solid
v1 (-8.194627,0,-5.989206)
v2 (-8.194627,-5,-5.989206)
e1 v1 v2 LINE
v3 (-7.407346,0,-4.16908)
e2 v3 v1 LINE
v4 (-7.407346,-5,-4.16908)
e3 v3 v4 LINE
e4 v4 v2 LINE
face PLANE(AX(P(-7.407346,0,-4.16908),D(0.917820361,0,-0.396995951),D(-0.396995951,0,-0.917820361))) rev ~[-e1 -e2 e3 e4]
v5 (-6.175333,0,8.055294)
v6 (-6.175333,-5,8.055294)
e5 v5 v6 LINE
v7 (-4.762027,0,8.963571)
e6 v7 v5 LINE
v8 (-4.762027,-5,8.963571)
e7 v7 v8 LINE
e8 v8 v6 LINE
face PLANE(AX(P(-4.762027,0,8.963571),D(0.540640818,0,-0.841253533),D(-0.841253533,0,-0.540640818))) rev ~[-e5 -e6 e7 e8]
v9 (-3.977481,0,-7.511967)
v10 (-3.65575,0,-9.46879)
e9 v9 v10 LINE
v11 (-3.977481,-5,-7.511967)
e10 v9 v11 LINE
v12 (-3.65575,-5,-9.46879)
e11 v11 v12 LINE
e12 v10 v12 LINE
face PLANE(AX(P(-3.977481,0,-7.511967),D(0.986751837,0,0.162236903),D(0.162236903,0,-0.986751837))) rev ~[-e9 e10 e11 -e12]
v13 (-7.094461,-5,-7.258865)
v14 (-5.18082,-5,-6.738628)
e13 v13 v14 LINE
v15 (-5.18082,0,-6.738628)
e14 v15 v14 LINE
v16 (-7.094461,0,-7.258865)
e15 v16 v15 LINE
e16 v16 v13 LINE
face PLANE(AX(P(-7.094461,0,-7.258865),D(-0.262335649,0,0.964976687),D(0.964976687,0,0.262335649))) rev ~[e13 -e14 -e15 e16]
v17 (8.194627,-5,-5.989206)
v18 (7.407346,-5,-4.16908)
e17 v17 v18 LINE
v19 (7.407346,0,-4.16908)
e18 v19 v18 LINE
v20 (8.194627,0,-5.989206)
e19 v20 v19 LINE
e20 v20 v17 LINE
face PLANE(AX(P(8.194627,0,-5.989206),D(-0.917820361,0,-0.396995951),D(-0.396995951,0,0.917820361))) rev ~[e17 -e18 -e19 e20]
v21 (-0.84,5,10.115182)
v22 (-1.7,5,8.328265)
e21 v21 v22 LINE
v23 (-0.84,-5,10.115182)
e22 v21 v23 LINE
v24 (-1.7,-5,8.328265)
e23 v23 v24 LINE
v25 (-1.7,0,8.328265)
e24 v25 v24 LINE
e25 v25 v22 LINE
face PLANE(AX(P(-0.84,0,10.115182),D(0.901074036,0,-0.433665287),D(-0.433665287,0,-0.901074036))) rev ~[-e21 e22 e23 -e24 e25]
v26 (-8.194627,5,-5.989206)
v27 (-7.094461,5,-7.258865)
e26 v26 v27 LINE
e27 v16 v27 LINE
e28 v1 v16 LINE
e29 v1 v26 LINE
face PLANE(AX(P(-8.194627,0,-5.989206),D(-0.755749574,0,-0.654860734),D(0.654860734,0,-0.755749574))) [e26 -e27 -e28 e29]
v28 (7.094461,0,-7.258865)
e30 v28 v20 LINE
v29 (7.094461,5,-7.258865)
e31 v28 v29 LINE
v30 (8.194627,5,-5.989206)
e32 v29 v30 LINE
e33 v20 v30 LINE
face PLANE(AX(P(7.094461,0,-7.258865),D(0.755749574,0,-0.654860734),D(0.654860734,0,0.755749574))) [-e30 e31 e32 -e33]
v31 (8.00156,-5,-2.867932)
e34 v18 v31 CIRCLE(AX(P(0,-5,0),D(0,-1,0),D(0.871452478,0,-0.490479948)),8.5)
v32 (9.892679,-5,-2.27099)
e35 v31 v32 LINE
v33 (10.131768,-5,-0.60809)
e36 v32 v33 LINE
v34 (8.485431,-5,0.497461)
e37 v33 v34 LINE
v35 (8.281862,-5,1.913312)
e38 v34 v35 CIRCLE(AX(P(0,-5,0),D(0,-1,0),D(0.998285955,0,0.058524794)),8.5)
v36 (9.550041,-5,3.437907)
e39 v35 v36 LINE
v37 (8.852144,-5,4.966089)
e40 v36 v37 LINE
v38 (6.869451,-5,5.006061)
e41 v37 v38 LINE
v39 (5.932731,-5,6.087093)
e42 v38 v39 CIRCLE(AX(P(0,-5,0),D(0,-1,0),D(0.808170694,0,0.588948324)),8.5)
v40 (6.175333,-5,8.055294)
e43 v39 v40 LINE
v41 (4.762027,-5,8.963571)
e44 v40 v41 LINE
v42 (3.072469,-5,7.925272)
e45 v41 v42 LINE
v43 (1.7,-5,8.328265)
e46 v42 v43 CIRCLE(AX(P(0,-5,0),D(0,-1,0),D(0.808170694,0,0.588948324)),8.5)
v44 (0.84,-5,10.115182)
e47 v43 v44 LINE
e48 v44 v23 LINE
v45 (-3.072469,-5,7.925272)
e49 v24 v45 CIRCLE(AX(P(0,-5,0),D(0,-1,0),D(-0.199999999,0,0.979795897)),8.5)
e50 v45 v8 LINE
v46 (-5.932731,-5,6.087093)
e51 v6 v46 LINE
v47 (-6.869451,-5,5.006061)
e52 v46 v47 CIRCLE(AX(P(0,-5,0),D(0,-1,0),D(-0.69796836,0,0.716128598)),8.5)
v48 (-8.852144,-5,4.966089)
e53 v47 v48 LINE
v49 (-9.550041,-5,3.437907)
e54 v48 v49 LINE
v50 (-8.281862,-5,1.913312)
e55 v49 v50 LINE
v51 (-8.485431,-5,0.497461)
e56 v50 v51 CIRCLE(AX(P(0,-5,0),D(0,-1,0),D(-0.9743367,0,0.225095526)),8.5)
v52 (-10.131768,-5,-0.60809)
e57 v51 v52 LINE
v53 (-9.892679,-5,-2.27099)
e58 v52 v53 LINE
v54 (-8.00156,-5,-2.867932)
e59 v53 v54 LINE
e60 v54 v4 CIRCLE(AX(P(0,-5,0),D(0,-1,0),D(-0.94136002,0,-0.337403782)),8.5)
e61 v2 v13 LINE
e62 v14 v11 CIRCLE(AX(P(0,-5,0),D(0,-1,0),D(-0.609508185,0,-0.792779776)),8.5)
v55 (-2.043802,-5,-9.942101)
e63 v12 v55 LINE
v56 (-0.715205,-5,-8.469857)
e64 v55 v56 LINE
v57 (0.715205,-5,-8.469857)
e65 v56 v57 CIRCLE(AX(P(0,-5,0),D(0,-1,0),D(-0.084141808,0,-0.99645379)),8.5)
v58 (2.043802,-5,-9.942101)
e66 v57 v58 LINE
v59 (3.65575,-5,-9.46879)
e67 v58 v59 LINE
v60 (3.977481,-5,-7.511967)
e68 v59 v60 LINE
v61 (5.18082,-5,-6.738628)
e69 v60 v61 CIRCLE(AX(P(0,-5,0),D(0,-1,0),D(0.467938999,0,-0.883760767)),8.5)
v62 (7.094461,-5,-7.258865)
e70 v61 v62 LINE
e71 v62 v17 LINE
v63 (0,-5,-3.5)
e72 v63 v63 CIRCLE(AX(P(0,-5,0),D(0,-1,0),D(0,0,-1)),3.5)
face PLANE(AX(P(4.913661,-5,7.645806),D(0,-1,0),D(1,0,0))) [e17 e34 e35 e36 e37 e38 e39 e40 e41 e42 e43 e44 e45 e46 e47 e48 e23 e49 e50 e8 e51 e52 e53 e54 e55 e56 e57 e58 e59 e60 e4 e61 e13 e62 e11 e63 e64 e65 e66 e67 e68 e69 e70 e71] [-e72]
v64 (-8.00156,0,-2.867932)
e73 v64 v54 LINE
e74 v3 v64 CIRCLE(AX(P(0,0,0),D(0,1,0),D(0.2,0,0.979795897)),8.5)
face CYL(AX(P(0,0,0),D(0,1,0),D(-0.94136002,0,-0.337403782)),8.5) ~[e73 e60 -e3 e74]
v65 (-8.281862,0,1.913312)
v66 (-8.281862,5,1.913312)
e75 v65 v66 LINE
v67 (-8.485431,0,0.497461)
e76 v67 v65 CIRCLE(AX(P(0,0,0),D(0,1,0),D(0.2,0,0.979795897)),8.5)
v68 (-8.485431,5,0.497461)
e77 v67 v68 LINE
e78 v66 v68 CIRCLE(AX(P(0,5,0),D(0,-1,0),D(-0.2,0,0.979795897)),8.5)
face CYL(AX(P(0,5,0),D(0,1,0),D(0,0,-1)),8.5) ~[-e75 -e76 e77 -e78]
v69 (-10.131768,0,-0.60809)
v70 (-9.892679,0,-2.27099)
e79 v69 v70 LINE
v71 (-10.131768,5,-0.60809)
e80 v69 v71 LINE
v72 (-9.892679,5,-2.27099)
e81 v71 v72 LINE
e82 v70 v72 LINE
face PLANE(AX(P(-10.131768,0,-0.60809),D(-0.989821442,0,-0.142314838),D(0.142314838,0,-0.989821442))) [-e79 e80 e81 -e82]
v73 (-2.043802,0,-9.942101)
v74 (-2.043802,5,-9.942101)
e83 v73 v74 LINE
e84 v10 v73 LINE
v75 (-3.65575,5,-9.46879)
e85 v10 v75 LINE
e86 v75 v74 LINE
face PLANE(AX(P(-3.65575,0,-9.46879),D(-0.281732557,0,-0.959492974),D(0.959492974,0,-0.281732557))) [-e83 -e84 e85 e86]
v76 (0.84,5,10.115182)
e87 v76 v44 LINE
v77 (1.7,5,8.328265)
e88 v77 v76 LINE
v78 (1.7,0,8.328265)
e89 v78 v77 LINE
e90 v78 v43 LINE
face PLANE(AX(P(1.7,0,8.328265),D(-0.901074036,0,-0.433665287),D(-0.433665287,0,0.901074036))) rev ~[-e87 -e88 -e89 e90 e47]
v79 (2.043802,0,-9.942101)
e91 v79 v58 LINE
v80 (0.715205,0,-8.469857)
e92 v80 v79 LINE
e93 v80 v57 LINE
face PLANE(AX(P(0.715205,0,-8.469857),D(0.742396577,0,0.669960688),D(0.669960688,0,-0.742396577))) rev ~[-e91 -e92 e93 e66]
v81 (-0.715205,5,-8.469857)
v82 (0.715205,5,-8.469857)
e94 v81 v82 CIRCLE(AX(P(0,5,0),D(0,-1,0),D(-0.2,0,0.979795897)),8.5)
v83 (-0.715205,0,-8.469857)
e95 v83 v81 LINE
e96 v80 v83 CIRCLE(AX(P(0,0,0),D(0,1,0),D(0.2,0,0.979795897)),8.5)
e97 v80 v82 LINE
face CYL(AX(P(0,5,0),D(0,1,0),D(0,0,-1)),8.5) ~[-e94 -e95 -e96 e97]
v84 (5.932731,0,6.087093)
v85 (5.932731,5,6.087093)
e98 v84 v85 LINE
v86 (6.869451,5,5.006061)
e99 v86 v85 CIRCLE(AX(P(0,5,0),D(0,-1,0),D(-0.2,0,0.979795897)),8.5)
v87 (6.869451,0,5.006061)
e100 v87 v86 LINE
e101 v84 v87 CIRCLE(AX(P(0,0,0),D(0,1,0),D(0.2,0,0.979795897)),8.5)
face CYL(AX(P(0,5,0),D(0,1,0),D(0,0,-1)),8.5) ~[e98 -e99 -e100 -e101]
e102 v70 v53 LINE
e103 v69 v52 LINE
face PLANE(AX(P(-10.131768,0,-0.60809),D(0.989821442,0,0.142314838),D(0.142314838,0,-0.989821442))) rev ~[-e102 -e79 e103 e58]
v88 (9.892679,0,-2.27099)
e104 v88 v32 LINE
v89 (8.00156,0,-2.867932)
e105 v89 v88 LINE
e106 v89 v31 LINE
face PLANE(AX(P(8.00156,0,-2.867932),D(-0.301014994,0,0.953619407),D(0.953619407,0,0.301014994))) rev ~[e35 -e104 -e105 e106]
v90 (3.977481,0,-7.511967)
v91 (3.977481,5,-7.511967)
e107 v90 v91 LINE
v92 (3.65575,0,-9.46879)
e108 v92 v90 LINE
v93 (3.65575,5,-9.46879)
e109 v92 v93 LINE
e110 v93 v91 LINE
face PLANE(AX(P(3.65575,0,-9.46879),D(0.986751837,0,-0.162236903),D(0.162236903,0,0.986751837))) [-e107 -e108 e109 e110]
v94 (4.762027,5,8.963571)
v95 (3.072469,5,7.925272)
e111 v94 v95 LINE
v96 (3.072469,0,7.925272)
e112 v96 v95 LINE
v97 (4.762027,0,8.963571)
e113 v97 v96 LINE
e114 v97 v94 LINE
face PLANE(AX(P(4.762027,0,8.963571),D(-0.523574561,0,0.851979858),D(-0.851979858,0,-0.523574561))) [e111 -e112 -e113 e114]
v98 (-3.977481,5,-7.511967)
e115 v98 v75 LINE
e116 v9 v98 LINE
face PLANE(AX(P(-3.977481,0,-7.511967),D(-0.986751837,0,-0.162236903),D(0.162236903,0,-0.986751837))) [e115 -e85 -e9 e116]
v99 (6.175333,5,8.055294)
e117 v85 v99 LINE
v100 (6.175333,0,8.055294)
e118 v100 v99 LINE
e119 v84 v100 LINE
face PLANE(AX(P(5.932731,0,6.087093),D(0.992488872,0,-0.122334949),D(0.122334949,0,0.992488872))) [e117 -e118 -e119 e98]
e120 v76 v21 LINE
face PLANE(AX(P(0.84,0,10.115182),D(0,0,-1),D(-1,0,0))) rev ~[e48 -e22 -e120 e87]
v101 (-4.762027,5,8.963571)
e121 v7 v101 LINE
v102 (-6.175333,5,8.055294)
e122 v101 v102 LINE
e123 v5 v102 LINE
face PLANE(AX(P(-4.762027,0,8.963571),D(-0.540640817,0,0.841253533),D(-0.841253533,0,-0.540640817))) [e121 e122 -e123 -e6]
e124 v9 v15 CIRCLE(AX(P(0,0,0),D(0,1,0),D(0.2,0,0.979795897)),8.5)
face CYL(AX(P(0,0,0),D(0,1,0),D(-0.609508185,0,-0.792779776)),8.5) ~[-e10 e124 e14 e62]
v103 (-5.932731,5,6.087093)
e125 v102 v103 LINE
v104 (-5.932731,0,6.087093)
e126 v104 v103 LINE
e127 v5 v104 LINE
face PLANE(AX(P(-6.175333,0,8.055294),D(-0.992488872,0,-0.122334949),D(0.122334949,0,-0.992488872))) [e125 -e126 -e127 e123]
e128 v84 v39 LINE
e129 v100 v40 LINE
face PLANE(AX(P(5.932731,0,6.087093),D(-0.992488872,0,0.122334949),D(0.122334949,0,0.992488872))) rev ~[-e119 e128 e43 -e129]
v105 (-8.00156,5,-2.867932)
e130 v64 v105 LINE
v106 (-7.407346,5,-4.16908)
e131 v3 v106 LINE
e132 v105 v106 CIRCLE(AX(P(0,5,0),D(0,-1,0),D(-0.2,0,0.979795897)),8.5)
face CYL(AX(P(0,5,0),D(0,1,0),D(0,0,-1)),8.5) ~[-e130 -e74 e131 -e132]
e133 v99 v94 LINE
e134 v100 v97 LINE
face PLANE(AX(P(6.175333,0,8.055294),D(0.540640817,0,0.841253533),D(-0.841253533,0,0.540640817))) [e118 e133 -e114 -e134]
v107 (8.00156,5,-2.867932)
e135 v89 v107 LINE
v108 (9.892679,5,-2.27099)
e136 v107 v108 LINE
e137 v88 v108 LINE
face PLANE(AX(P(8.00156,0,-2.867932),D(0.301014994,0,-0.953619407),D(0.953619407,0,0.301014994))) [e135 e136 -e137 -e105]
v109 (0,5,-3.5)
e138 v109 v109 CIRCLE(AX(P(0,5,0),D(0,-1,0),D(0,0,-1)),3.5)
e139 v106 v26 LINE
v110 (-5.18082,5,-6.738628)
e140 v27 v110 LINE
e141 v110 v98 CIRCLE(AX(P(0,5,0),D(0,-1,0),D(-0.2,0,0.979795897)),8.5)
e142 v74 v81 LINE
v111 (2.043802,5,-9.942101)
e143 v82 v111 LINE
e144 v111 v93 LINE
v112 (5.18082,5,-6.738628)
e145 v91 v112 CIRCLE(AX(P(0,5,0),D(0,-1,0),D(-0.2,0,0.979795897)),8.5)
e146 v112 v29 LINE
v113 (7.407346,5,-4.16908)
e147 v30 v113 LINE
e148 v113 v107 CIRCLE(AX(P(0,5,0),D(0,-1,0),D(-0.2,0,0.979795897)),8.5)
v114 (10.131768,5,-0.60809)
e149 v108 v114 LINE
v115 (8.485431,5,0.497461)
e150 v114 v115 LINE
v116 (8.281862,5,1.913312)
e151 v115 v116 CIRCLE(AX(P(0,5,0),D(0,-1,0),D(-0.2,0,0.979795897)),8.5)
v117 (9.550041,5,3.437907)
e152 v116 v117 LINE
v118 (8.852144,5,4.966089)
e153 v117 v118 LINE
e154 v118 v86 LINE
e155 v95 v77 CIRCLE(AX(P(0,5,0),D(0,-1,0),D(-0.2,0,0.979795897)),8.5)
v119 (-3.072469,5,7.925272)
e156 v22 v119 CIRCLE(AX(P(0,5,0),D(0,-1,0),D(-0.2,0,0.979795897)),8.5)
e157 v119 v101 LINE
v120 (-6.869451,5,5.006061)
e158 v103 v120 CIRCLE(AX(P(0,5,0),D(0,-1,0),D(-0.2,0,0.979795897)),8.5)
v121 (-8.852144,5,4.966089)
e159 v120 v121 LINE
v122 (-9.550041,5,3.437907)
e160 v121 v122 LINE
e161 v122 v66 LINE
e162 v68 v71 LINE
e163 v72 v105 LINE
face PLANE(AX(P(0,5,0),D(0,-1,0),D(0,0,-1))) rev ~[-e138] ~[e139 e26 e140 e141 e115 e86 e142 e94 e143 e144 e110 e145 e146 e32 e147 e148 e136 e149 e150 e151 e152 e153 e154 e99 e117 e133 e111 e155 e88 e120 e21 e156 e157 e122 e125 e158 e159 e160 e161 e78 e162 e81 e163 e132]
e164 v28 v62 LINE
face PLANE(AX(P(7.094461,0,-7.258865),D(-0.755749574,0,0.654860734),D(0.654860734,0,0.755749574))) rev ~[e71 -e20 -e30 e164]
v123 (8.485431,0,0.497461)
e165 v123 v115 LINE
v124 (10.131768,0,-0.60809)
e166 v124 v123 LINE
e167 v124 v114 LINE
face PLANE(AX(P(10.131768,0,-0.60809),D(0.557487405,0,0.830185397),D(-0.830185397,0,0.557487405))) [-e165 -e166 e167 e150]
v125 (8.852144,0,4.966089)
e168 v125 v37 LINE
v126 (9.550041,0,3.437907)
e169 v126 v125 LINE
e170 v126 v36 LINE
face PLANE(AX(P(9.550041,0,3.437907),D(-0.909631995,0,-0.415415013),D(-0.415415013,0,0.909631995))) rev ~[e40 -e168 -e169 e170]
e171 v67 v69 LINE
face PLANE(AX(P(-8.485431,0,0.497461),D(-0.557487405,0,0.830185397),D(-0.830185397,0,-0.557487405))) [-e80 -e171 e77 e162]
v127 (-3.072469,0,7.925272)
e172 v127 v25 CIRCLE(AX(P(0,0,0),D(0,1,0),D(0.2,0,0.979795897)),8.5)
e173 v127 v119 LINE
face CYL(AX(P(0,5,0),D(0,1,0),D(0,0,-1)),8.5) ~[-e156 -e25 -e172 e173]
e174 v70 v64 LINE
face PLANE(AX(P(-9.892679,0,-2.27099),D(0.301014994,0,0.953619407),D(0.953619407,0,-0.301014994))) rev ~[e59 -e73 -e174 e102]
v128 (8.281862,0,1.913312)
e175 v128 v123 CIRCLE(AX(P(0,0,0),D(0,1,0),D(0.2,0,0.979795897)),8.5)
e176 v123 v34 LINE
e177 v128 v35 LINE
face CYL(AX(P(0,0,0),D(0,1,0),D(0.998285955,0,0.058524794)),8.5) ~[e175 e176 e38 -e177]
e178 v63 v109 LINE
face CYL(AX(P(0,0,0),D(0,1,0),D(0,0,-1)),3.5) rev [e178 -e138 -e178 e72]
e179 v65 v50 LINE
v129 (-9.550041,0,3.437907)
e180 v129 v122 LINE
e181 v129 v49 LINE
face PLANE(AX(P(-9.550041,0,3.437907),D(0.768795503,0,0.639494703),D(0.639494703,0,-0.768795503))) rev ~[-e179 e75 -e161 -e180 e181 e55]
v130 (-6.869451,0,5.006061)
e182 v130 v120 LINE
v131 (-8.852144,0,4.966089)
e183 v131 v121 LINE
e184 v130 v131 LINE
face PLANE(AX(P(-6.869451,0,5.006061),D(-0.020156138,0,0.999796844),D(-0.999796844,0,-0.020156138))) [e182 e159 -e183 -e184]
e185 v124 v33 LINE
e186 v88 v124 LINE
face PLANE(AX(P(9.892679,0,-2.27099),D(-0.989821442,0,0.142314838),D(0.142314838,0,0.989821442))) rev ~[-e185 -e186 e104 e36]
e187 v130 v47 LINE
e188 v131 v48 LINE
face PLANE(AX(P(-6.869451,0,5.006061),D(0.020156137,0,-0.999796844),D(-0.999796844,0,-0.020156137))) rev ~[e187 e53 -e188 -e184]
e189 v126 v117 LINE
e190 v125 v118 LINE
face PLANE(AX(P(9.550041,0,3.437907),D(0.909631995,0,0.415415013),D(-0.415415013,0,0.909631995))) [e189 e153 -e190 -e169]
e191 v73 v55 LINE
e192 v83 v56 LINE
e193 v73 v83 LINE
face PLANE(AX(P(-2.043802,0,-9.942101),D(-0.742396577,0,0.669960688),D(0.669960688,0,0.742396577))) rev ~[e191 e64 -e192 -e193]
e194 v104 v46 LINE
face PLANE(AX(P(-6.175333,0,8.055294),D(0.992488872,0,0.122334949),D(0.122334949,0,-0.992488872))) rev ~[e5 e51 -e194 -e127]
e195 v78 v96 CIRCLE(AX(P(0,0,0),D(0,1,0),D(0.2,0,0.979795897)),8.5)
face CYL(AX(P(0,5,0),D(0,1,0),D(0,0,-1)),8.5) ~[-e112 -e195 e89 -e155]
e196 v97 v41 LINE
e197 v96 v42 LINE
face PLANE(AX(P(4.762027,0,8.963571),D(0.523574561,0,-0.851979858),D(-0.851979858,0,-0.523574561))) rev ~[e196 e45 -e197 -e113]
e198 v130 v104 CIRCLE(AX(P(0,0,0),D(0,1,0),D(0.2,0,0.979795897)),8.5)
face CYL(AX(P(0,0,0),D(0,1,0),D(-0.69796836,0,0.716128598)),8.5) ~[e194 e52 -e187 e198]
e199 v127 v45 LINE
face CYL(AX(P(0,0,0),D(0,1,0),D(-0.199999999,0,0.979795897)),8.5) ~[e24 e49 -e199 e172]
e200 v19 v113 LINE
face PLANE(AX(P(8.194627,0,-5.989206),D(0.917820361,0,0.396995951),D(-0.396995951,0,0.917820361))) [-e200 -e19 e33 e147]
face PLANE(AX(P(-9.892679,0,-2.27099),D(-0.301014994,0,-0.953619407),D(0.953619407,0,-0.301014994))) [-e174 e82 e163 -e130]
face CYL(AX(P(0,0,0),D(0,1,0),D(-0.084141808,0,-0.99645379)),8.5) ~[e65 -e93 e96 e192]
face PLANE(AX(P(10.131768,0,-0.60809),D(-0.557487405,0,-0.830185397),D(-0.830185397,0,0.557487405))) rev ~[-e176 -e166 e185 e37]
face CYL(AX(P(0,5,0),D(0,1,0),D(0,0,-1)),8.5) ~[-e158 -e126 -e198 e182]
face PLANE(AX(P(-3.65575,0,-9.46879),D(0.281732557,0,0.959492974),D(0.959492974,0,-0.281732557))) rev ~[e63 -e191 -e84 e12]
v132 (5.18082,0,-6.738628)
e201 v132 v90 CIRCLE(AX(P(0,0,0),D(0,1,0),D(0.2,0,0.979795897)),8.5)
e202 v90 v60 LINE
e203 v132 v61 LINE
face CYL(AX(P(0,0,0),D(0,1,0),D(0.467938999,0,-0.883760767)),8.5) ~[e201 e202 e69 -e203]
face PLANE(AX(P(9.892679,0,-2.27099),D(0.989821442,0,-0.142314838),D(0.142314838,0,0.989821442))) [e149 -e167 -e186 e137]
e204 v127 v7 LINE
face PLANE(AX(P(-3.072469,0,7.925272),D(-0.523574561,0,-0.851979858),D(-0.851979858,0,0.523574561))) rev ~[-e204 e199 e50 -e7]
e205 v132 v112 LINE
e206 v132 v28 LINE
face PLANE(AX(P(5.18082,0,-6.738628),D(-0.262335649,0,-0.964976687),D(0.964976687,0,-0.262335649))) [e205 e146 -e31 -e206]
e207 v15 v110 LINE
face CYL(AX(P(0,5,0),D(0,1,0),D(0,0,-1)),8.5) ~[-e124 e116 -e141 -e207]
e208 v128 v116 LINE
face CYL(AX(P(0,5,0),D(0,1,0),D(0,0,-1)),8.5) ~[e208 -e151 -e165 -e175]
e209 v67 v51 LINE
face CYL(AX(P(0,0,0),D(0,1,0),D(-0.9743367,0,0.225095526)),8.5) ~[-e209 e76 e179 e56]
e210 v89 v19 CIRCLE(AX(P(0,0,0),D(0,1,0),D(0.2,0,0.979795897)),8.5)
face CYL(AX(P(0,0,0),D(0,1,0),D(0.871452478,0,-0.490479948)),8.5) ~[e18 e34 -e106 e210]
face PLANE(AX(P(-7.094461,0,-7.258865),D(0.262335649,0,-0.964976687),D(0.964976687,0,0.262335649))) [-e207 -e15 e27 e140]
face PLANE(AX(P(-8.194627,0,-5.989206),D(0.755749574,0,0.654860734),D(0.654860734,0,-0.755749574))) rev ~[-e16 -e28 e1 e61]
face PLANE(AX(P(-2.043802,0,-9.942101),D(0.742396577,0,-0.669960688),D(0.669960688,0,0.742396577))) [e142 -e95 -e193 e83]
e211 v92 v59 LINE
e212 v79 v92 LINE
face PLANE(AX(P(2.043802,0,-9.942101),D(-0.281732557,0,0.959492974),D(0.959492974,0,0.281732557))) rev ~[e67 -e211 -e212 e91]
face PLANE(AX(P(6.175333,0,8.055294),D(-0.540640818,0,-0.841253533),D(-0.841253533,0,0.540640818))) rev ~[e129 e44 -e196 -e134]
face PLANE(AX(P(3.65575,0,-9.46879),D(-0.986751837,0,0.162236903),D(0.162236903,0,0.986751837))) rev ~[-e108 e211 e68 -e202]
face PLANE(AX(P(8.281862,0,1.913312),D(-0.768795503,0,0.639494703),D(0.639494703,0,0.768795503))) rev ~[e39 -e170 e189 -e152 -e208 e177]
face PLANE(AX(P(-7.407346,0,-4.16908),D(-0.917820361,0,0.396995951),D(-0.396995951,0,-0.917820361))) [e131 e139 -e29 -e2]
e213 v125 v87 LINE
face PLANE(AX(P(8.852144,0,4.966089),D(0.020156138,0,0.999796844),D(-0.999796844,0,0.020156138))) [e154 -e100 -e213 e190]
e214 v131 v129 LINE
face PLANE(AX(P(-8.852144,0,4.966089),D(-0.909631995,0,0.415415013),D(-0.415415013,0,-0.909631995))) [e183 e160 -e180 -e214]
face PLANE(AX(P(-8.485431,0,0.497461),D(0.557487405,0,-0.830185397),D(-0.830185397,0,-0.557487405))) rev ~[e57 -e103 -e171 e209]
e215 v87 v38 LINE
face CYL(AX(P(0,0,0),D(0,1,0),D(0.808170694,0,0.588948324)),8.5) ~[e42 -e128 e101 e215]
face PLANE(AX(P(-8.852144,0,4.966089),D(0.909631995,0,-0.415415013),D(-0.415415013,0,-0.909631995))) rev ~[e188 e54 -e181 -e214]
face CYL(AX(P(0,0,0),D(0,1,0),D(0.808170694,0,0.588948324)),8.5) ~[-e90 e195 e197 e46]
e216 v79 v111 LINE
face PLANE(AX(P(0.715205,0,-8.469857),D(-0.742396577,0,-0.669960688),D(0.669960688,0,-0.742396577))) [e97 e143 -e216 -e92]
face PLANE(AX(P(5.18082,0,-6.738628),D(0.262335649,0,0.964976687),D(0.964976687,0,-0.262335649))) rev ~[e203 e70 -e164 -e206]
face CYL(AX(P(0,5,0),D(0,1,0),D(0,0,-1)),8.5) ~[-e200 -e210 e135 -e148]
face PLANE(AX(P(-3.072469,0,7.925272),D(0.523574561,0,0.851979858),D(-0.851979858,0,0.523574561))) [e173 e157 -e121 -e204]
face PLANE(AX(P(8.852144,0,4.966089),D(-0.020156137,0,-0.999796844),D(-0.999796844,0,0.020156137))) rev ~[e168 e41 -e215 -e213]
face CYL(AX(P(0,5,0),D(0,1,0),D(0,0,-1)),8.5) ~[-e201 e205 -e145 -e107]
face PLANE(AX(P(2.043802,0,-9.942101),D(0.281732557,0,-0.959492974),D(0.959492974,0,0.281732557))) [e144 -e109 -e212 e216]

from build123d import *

# Parameters (mm, degrees)
SKETCH1_R            = 3.5
BOSS_EXTRUDE1_DEPTH  = 5
SKETCH12_R           = 8.5
SKETCH12_R_2         = 3.5
BOSS_EXTRUDE6_DEPTH  = 5
BOSS_EXTRUDE9_DEPTH  = 5
CIRPATTERN2_COUNT    = 11
CUT_EXTRUDE1_START   = -10
SKETCH14_R           = 3.5
CUT_EXTRUDE1_DEPTH   = 10
SKETCH17_R           = 3.5
BOSS_EXTRUDE10_DEPTH = 5
BOSS_EXTRUDE11_DEPTH = 5


with BuildPart() as part:
    # Sketch1 → Boss-Extrude1 (new body)
    with BuildSketch(Plane(origin=(0, 0, 0), x_dir=(1, 0, 0), z_dir=(0, 1, 0))):
        with Locations(Location((0, 0, 0), (0, 0, 270))):
            Circle(SKETCH1_R)
    extrude(amount=BOSS_EXTRUDE1_DEPTH)

    # Sketch14 → Cut-Extrude1 (cut)
    with BuildSketch(Plane(origin=(0, 5, 0), x_dir=(1, 0, 0), z_dir=(0, 1, 0)).offset(CUT_EXTRUDE1_START)):
        with Locations(Location((0, 0, 0), (0, 0, 90))):
            Circle(SKETCH14_R)
    extrude(amount=CUT_EXTRUDE1_DEPTH, mode=Mode.SUBTRACT)


with BuildPart() as body_2:
    # Sketch12 → Boss-Extrude6 (new body)
    with BuildSketch(Plane(origin=(0, 5, 0), x_dir=(-1, 0, 0), z_dir=(0, -1, 0))):
        with Locations(Location((0, 0, 0), (0, 0, 90))):
            Circle(SKETCH12_R)
        with Locations(Location((0, 0, 0), (0, 0, 90))):
            Circle(SKETCH12_R_2, mode=Mode.SUBTRACT)
    extrude(amount=BOSS_EXTRUDE6_DEPTH)



with BuildPart() as body_3:
    # Sketch13 → Boss-Extrude9 (new body)
    with BuildSketch(Plane.XZ):
        with BuildLine():
            Line((1.7, 8.328265125), (0.84, 10.115181659))
            Line((0.84, 10.115181659), (-0.84, 10.115181659))
            Line((-0.84, 10.115181659), (-1.7, 8.328265125))
            ThreePointArc((-1.7, 8.328265125), (0, 8.5), (1.7, 8.328265125))
        make_face()
    extrude(amount=-BOSS_EXTRUDE9_DEPTH)


with BuildPart() as cirpattern2_1:
    # CirPattern2: pattern copy
    add(body_3.part.rotate(Axis((0, 0, 0), (0, 1, 0)), 1 * 360 / CIRPATTERN2_COUNT))


with BuildPart() as cirpattern2_2:
    # CirPattern2: pattern copy
    add(body_3.part.rotate(Axis((0, 0, 0), (0, 1, 0)), 2 * 360 / CIRPATTERN2_COUNT))


with BuildPart() as cirpattern2_3:
    # CirPattern2: pattern copy
    add(body_3.part.rotate(Axis((0, 0, 0), (0, 1, 0)), 3 * 360 / CIRPATTERN2_COUNT))


with BuildPart() as cirpattern2_4:
    # CirPattern2: pattern copy
    add(body_3.part.rotate(Axis((0, 0, 0), (0, 1, 0)), 4 * 360 / CIRPATTERN2_COUNT))


with BuildPart() as cirpattern2_5:
    # CirPattern2: pattern copy
    add(body_3.part.rotate(Axis((0, 0, 0), (0, 1, 0)), 5 * 360 / CIRPATTERN2_COUNT))


with BuildPart() as cirpattern2_6:
    # CirPattern2: pattern copy
    add(body_3.part.rotate(Axis((0, 0, 0), (0, 1, 0)), 6 * 360 / CIRPATTERN2_COUNT))


with BuildPart() as cirpattern2_7:
    # CirPattern2: pattern copy
    add(body_3.part.rotate(Axis((0, 0, 0), (0, 1, 0)), 7 * 360 / CIRPATTERN2_COUNT))


with BuildPart() as cirpattern2_8:
    # CirPattern2: pattern copy
    add(body_3.part.rotate(Axis((0, 0, 0), (0, 1, 0)), 8 * 360 / CIRPATTERN2_COUNT))


with BuildPart() as cirpattern2_9:
    # CirPattern2: pattern copy
    add(body_3.part.rotate(Axis((0, 0, 0), (0, 1, 0)), 9 * 360 / CIRPATTERN2_COUNT))


with BuildPart() as cirpattern2_10:
    # CirPattern2: pattern copy
    add(body_3.part.rotate(Axis((0, 0, 0), (0, 1, 0)), 10 * 360 / CIRPATTERN2_COUNT))


with BuildPart() as body_2_1:
    add(body_2.part)

    add(body_3.part)  # Boss-Extrude10 merges body 3

    add(cirpattern2_2.part)  # Boss-Extrude10 merges CirPattern2_2

    add(cirpattern2_3.part)  # Boss-Extrude10 merges CirPattern2_3

    add(cirpattern2_4.part)  # Boss-Extrude10 merges CirPattern2_4

    add(cirpattern2_5.part)  # Boss-Extrude10 merges CirPattern2_5

    add(cirpattern2_6.part)  # Boss-Extrude10 merges CirPattern2_6

    add(cirpattern2_7.part)  # Boss-Extrude10 merges CirPattern2_7

    add(cirpattern2_8.part)  # Boss-Extrude10 merges CirPattern2_8

    add(cirpattern2_9.part)  # Boss-Extrude10 merges CirPattern2_9

    add(cirpattern2_10.part)  # Boss-Extrude10 merges CirPattern2_10
    # Sketch17 → Boss-Extrude10 (add)
    with BuildSketch(Plane.XZ):
        with BuildLine():
            Line((5.180819576, -6.738628089), (7.094461217, -7.258864928))
            Line((7.094461217, -7.258864928), (8.19462725, -5.989205643))
            Line((8.19462725, -5.989205643), (7.407346071, -4.169079536))
            ThreePointArc((7.407346071, -4.169079536), (7.731871961, -3.531027611), (8.00156017, -2.867932156))
            Line((8.00156017, -2.867932156), (9.892679231, -2.270990453))
            Line((9.892679231, -2.270990453), (10.131768159, -0.608090431))
            Line((10.131768159, -0.608090431), (8.48543062, 0.497460747))
            ThreePointArc((8.48543062, 0.497460747), (8.413482256, 1.209676125), (8.281861946, 1.913311973))
            Line((8.281861946, 1.913311973), (9.550041487, 3.437907444))
            Line((9.550041487, 3.437907444), (8.852144265, 4.966089197))
            Line((8.852144265, 4.966089197), (6.869450902, 5.006060757))
            ThreePointArc((6.869450902, 5.006060757), (4.595446948, 7.150655029), (1.7, 8.328265125))
            Line((1.7, 8.328265125), (0.84, 10.115181659))
            Line((0.84, 10.115181659), (-0.84, 10.115181659))
            Line((-0.84, 10.115181659), (-1.7, 8.328265125))
            ThreePointArc((-1.7, 8.328265125), (-2.394726733, 8.155690276), (-3.07246906, 7.925271849))
            Line((-3.07246906, 7.925271849), (-4.762027113, 8.963570593))
            Line((-4.762027113, 8.963570593), (-6.175333049, 8.055294019))
            Line((-6.175333049, 8.055294019), (-5.932731071, 6.087093069))
            ThreePointArc((-5.932731071, 6.087093069), (-6.423871382, 5.566316239), (-6.869450902, 5.006060757))
            Line((-6.869450902, 5.006060757), (-8.852144265, 4.966089197))
            Line((-8.852144265, 4.966089197), (-9.550041487, 3.437907444))
            Line((-9.550041487, 3.437907444), (-8.281861946, 1.913311973))
            ThreePointArc((-8.281861946, 1.913311973), (-8.413482256, 1.209676125), (-8.48543062, 0.497460747))
            Line((-8.48543062, 0.497460747), (-10.131768159, -0.608090431))
            Line((-10.131768159, -0.608090431), (-9.892679231, -2.270990453))
            Line((-9.892679231, -2.270990453), (-8.00156017, -2.867932156))
            ThreePointArc((-8.00156017, -2.867932156), (-7.731871961, -3.531027611), (-7.407346071, -4.169079536))
            Line((-7.407346071, -4.169079536), (-8.19462725, -5.989205643))
            Line((-8.19462725, -5.989205643), (-7.094461217, -7.258864928))
            Line((-7.094461217, -7.258864928), (-5.180819576, -6.738628089))
            ThreePointArc((-5.180819576, -6.738628089), (-4.595446948, -7.150655029), (-3.977481483, -7.511966524))
            Line((-3.977481483, -7.511966524), (-3.65575009, -9.468790381))
            Line((-3.65575009, -9.468790381), (-2.043801894, -9.942101077))
            Line((-2.043801894, -9.942101077), (-0.715205373, -8.469857217))
            ThreePointArc((-0.715205373, -8.469857217), (0, -8.5), (0.715205373, -8.469857217))
            Line((0.715205373, -8.469857217), (2.043801894, -9.942101077))
            Line((2.043801894, -9.942101077), (3.65575009, -9.468790381))
            Line((3.65575009, -9.468790381), (3.977481483, -7.511966524))
            ThreePointArc((3.977481483, -7.511966524), (4.595446948, -7.150655029), (5.180819576, -6.738628089))
        make_face()
        with Locations(Location((0, 0, 0), (0, 0, 270))):
            Circle(SKETCH17_R, mode=Mode.SUBTRACT)
    extrude(amount=BOSS_EXTRUDE10_DEPTH)


    add(cirpattern2_1.part)  # Boss-Extrude11 merges CirPattern2_1
    # Sketch18 → Boss-Extrude11 (add)
    with BuildSketch(Plane.XZ):
        with BuildLine():
            Line((6.175333049, 8.055294019), (4.762027113, 8.963570593))
            Line((4.762027113, 8.963570593), (3.07246906, 7.925271849))
            ThreePointArc((3.07246906, 7.925271849), (4.595446948, 7.150655029), (5.932731071, 6.087093069))
            Line((5.932731071, 6.087093069), (6.175333049, 8.055294019))
        make_face()
    extrude(amount=BOSS_EXTRUDE11_DEPTH)


solid = body_2_1.part
